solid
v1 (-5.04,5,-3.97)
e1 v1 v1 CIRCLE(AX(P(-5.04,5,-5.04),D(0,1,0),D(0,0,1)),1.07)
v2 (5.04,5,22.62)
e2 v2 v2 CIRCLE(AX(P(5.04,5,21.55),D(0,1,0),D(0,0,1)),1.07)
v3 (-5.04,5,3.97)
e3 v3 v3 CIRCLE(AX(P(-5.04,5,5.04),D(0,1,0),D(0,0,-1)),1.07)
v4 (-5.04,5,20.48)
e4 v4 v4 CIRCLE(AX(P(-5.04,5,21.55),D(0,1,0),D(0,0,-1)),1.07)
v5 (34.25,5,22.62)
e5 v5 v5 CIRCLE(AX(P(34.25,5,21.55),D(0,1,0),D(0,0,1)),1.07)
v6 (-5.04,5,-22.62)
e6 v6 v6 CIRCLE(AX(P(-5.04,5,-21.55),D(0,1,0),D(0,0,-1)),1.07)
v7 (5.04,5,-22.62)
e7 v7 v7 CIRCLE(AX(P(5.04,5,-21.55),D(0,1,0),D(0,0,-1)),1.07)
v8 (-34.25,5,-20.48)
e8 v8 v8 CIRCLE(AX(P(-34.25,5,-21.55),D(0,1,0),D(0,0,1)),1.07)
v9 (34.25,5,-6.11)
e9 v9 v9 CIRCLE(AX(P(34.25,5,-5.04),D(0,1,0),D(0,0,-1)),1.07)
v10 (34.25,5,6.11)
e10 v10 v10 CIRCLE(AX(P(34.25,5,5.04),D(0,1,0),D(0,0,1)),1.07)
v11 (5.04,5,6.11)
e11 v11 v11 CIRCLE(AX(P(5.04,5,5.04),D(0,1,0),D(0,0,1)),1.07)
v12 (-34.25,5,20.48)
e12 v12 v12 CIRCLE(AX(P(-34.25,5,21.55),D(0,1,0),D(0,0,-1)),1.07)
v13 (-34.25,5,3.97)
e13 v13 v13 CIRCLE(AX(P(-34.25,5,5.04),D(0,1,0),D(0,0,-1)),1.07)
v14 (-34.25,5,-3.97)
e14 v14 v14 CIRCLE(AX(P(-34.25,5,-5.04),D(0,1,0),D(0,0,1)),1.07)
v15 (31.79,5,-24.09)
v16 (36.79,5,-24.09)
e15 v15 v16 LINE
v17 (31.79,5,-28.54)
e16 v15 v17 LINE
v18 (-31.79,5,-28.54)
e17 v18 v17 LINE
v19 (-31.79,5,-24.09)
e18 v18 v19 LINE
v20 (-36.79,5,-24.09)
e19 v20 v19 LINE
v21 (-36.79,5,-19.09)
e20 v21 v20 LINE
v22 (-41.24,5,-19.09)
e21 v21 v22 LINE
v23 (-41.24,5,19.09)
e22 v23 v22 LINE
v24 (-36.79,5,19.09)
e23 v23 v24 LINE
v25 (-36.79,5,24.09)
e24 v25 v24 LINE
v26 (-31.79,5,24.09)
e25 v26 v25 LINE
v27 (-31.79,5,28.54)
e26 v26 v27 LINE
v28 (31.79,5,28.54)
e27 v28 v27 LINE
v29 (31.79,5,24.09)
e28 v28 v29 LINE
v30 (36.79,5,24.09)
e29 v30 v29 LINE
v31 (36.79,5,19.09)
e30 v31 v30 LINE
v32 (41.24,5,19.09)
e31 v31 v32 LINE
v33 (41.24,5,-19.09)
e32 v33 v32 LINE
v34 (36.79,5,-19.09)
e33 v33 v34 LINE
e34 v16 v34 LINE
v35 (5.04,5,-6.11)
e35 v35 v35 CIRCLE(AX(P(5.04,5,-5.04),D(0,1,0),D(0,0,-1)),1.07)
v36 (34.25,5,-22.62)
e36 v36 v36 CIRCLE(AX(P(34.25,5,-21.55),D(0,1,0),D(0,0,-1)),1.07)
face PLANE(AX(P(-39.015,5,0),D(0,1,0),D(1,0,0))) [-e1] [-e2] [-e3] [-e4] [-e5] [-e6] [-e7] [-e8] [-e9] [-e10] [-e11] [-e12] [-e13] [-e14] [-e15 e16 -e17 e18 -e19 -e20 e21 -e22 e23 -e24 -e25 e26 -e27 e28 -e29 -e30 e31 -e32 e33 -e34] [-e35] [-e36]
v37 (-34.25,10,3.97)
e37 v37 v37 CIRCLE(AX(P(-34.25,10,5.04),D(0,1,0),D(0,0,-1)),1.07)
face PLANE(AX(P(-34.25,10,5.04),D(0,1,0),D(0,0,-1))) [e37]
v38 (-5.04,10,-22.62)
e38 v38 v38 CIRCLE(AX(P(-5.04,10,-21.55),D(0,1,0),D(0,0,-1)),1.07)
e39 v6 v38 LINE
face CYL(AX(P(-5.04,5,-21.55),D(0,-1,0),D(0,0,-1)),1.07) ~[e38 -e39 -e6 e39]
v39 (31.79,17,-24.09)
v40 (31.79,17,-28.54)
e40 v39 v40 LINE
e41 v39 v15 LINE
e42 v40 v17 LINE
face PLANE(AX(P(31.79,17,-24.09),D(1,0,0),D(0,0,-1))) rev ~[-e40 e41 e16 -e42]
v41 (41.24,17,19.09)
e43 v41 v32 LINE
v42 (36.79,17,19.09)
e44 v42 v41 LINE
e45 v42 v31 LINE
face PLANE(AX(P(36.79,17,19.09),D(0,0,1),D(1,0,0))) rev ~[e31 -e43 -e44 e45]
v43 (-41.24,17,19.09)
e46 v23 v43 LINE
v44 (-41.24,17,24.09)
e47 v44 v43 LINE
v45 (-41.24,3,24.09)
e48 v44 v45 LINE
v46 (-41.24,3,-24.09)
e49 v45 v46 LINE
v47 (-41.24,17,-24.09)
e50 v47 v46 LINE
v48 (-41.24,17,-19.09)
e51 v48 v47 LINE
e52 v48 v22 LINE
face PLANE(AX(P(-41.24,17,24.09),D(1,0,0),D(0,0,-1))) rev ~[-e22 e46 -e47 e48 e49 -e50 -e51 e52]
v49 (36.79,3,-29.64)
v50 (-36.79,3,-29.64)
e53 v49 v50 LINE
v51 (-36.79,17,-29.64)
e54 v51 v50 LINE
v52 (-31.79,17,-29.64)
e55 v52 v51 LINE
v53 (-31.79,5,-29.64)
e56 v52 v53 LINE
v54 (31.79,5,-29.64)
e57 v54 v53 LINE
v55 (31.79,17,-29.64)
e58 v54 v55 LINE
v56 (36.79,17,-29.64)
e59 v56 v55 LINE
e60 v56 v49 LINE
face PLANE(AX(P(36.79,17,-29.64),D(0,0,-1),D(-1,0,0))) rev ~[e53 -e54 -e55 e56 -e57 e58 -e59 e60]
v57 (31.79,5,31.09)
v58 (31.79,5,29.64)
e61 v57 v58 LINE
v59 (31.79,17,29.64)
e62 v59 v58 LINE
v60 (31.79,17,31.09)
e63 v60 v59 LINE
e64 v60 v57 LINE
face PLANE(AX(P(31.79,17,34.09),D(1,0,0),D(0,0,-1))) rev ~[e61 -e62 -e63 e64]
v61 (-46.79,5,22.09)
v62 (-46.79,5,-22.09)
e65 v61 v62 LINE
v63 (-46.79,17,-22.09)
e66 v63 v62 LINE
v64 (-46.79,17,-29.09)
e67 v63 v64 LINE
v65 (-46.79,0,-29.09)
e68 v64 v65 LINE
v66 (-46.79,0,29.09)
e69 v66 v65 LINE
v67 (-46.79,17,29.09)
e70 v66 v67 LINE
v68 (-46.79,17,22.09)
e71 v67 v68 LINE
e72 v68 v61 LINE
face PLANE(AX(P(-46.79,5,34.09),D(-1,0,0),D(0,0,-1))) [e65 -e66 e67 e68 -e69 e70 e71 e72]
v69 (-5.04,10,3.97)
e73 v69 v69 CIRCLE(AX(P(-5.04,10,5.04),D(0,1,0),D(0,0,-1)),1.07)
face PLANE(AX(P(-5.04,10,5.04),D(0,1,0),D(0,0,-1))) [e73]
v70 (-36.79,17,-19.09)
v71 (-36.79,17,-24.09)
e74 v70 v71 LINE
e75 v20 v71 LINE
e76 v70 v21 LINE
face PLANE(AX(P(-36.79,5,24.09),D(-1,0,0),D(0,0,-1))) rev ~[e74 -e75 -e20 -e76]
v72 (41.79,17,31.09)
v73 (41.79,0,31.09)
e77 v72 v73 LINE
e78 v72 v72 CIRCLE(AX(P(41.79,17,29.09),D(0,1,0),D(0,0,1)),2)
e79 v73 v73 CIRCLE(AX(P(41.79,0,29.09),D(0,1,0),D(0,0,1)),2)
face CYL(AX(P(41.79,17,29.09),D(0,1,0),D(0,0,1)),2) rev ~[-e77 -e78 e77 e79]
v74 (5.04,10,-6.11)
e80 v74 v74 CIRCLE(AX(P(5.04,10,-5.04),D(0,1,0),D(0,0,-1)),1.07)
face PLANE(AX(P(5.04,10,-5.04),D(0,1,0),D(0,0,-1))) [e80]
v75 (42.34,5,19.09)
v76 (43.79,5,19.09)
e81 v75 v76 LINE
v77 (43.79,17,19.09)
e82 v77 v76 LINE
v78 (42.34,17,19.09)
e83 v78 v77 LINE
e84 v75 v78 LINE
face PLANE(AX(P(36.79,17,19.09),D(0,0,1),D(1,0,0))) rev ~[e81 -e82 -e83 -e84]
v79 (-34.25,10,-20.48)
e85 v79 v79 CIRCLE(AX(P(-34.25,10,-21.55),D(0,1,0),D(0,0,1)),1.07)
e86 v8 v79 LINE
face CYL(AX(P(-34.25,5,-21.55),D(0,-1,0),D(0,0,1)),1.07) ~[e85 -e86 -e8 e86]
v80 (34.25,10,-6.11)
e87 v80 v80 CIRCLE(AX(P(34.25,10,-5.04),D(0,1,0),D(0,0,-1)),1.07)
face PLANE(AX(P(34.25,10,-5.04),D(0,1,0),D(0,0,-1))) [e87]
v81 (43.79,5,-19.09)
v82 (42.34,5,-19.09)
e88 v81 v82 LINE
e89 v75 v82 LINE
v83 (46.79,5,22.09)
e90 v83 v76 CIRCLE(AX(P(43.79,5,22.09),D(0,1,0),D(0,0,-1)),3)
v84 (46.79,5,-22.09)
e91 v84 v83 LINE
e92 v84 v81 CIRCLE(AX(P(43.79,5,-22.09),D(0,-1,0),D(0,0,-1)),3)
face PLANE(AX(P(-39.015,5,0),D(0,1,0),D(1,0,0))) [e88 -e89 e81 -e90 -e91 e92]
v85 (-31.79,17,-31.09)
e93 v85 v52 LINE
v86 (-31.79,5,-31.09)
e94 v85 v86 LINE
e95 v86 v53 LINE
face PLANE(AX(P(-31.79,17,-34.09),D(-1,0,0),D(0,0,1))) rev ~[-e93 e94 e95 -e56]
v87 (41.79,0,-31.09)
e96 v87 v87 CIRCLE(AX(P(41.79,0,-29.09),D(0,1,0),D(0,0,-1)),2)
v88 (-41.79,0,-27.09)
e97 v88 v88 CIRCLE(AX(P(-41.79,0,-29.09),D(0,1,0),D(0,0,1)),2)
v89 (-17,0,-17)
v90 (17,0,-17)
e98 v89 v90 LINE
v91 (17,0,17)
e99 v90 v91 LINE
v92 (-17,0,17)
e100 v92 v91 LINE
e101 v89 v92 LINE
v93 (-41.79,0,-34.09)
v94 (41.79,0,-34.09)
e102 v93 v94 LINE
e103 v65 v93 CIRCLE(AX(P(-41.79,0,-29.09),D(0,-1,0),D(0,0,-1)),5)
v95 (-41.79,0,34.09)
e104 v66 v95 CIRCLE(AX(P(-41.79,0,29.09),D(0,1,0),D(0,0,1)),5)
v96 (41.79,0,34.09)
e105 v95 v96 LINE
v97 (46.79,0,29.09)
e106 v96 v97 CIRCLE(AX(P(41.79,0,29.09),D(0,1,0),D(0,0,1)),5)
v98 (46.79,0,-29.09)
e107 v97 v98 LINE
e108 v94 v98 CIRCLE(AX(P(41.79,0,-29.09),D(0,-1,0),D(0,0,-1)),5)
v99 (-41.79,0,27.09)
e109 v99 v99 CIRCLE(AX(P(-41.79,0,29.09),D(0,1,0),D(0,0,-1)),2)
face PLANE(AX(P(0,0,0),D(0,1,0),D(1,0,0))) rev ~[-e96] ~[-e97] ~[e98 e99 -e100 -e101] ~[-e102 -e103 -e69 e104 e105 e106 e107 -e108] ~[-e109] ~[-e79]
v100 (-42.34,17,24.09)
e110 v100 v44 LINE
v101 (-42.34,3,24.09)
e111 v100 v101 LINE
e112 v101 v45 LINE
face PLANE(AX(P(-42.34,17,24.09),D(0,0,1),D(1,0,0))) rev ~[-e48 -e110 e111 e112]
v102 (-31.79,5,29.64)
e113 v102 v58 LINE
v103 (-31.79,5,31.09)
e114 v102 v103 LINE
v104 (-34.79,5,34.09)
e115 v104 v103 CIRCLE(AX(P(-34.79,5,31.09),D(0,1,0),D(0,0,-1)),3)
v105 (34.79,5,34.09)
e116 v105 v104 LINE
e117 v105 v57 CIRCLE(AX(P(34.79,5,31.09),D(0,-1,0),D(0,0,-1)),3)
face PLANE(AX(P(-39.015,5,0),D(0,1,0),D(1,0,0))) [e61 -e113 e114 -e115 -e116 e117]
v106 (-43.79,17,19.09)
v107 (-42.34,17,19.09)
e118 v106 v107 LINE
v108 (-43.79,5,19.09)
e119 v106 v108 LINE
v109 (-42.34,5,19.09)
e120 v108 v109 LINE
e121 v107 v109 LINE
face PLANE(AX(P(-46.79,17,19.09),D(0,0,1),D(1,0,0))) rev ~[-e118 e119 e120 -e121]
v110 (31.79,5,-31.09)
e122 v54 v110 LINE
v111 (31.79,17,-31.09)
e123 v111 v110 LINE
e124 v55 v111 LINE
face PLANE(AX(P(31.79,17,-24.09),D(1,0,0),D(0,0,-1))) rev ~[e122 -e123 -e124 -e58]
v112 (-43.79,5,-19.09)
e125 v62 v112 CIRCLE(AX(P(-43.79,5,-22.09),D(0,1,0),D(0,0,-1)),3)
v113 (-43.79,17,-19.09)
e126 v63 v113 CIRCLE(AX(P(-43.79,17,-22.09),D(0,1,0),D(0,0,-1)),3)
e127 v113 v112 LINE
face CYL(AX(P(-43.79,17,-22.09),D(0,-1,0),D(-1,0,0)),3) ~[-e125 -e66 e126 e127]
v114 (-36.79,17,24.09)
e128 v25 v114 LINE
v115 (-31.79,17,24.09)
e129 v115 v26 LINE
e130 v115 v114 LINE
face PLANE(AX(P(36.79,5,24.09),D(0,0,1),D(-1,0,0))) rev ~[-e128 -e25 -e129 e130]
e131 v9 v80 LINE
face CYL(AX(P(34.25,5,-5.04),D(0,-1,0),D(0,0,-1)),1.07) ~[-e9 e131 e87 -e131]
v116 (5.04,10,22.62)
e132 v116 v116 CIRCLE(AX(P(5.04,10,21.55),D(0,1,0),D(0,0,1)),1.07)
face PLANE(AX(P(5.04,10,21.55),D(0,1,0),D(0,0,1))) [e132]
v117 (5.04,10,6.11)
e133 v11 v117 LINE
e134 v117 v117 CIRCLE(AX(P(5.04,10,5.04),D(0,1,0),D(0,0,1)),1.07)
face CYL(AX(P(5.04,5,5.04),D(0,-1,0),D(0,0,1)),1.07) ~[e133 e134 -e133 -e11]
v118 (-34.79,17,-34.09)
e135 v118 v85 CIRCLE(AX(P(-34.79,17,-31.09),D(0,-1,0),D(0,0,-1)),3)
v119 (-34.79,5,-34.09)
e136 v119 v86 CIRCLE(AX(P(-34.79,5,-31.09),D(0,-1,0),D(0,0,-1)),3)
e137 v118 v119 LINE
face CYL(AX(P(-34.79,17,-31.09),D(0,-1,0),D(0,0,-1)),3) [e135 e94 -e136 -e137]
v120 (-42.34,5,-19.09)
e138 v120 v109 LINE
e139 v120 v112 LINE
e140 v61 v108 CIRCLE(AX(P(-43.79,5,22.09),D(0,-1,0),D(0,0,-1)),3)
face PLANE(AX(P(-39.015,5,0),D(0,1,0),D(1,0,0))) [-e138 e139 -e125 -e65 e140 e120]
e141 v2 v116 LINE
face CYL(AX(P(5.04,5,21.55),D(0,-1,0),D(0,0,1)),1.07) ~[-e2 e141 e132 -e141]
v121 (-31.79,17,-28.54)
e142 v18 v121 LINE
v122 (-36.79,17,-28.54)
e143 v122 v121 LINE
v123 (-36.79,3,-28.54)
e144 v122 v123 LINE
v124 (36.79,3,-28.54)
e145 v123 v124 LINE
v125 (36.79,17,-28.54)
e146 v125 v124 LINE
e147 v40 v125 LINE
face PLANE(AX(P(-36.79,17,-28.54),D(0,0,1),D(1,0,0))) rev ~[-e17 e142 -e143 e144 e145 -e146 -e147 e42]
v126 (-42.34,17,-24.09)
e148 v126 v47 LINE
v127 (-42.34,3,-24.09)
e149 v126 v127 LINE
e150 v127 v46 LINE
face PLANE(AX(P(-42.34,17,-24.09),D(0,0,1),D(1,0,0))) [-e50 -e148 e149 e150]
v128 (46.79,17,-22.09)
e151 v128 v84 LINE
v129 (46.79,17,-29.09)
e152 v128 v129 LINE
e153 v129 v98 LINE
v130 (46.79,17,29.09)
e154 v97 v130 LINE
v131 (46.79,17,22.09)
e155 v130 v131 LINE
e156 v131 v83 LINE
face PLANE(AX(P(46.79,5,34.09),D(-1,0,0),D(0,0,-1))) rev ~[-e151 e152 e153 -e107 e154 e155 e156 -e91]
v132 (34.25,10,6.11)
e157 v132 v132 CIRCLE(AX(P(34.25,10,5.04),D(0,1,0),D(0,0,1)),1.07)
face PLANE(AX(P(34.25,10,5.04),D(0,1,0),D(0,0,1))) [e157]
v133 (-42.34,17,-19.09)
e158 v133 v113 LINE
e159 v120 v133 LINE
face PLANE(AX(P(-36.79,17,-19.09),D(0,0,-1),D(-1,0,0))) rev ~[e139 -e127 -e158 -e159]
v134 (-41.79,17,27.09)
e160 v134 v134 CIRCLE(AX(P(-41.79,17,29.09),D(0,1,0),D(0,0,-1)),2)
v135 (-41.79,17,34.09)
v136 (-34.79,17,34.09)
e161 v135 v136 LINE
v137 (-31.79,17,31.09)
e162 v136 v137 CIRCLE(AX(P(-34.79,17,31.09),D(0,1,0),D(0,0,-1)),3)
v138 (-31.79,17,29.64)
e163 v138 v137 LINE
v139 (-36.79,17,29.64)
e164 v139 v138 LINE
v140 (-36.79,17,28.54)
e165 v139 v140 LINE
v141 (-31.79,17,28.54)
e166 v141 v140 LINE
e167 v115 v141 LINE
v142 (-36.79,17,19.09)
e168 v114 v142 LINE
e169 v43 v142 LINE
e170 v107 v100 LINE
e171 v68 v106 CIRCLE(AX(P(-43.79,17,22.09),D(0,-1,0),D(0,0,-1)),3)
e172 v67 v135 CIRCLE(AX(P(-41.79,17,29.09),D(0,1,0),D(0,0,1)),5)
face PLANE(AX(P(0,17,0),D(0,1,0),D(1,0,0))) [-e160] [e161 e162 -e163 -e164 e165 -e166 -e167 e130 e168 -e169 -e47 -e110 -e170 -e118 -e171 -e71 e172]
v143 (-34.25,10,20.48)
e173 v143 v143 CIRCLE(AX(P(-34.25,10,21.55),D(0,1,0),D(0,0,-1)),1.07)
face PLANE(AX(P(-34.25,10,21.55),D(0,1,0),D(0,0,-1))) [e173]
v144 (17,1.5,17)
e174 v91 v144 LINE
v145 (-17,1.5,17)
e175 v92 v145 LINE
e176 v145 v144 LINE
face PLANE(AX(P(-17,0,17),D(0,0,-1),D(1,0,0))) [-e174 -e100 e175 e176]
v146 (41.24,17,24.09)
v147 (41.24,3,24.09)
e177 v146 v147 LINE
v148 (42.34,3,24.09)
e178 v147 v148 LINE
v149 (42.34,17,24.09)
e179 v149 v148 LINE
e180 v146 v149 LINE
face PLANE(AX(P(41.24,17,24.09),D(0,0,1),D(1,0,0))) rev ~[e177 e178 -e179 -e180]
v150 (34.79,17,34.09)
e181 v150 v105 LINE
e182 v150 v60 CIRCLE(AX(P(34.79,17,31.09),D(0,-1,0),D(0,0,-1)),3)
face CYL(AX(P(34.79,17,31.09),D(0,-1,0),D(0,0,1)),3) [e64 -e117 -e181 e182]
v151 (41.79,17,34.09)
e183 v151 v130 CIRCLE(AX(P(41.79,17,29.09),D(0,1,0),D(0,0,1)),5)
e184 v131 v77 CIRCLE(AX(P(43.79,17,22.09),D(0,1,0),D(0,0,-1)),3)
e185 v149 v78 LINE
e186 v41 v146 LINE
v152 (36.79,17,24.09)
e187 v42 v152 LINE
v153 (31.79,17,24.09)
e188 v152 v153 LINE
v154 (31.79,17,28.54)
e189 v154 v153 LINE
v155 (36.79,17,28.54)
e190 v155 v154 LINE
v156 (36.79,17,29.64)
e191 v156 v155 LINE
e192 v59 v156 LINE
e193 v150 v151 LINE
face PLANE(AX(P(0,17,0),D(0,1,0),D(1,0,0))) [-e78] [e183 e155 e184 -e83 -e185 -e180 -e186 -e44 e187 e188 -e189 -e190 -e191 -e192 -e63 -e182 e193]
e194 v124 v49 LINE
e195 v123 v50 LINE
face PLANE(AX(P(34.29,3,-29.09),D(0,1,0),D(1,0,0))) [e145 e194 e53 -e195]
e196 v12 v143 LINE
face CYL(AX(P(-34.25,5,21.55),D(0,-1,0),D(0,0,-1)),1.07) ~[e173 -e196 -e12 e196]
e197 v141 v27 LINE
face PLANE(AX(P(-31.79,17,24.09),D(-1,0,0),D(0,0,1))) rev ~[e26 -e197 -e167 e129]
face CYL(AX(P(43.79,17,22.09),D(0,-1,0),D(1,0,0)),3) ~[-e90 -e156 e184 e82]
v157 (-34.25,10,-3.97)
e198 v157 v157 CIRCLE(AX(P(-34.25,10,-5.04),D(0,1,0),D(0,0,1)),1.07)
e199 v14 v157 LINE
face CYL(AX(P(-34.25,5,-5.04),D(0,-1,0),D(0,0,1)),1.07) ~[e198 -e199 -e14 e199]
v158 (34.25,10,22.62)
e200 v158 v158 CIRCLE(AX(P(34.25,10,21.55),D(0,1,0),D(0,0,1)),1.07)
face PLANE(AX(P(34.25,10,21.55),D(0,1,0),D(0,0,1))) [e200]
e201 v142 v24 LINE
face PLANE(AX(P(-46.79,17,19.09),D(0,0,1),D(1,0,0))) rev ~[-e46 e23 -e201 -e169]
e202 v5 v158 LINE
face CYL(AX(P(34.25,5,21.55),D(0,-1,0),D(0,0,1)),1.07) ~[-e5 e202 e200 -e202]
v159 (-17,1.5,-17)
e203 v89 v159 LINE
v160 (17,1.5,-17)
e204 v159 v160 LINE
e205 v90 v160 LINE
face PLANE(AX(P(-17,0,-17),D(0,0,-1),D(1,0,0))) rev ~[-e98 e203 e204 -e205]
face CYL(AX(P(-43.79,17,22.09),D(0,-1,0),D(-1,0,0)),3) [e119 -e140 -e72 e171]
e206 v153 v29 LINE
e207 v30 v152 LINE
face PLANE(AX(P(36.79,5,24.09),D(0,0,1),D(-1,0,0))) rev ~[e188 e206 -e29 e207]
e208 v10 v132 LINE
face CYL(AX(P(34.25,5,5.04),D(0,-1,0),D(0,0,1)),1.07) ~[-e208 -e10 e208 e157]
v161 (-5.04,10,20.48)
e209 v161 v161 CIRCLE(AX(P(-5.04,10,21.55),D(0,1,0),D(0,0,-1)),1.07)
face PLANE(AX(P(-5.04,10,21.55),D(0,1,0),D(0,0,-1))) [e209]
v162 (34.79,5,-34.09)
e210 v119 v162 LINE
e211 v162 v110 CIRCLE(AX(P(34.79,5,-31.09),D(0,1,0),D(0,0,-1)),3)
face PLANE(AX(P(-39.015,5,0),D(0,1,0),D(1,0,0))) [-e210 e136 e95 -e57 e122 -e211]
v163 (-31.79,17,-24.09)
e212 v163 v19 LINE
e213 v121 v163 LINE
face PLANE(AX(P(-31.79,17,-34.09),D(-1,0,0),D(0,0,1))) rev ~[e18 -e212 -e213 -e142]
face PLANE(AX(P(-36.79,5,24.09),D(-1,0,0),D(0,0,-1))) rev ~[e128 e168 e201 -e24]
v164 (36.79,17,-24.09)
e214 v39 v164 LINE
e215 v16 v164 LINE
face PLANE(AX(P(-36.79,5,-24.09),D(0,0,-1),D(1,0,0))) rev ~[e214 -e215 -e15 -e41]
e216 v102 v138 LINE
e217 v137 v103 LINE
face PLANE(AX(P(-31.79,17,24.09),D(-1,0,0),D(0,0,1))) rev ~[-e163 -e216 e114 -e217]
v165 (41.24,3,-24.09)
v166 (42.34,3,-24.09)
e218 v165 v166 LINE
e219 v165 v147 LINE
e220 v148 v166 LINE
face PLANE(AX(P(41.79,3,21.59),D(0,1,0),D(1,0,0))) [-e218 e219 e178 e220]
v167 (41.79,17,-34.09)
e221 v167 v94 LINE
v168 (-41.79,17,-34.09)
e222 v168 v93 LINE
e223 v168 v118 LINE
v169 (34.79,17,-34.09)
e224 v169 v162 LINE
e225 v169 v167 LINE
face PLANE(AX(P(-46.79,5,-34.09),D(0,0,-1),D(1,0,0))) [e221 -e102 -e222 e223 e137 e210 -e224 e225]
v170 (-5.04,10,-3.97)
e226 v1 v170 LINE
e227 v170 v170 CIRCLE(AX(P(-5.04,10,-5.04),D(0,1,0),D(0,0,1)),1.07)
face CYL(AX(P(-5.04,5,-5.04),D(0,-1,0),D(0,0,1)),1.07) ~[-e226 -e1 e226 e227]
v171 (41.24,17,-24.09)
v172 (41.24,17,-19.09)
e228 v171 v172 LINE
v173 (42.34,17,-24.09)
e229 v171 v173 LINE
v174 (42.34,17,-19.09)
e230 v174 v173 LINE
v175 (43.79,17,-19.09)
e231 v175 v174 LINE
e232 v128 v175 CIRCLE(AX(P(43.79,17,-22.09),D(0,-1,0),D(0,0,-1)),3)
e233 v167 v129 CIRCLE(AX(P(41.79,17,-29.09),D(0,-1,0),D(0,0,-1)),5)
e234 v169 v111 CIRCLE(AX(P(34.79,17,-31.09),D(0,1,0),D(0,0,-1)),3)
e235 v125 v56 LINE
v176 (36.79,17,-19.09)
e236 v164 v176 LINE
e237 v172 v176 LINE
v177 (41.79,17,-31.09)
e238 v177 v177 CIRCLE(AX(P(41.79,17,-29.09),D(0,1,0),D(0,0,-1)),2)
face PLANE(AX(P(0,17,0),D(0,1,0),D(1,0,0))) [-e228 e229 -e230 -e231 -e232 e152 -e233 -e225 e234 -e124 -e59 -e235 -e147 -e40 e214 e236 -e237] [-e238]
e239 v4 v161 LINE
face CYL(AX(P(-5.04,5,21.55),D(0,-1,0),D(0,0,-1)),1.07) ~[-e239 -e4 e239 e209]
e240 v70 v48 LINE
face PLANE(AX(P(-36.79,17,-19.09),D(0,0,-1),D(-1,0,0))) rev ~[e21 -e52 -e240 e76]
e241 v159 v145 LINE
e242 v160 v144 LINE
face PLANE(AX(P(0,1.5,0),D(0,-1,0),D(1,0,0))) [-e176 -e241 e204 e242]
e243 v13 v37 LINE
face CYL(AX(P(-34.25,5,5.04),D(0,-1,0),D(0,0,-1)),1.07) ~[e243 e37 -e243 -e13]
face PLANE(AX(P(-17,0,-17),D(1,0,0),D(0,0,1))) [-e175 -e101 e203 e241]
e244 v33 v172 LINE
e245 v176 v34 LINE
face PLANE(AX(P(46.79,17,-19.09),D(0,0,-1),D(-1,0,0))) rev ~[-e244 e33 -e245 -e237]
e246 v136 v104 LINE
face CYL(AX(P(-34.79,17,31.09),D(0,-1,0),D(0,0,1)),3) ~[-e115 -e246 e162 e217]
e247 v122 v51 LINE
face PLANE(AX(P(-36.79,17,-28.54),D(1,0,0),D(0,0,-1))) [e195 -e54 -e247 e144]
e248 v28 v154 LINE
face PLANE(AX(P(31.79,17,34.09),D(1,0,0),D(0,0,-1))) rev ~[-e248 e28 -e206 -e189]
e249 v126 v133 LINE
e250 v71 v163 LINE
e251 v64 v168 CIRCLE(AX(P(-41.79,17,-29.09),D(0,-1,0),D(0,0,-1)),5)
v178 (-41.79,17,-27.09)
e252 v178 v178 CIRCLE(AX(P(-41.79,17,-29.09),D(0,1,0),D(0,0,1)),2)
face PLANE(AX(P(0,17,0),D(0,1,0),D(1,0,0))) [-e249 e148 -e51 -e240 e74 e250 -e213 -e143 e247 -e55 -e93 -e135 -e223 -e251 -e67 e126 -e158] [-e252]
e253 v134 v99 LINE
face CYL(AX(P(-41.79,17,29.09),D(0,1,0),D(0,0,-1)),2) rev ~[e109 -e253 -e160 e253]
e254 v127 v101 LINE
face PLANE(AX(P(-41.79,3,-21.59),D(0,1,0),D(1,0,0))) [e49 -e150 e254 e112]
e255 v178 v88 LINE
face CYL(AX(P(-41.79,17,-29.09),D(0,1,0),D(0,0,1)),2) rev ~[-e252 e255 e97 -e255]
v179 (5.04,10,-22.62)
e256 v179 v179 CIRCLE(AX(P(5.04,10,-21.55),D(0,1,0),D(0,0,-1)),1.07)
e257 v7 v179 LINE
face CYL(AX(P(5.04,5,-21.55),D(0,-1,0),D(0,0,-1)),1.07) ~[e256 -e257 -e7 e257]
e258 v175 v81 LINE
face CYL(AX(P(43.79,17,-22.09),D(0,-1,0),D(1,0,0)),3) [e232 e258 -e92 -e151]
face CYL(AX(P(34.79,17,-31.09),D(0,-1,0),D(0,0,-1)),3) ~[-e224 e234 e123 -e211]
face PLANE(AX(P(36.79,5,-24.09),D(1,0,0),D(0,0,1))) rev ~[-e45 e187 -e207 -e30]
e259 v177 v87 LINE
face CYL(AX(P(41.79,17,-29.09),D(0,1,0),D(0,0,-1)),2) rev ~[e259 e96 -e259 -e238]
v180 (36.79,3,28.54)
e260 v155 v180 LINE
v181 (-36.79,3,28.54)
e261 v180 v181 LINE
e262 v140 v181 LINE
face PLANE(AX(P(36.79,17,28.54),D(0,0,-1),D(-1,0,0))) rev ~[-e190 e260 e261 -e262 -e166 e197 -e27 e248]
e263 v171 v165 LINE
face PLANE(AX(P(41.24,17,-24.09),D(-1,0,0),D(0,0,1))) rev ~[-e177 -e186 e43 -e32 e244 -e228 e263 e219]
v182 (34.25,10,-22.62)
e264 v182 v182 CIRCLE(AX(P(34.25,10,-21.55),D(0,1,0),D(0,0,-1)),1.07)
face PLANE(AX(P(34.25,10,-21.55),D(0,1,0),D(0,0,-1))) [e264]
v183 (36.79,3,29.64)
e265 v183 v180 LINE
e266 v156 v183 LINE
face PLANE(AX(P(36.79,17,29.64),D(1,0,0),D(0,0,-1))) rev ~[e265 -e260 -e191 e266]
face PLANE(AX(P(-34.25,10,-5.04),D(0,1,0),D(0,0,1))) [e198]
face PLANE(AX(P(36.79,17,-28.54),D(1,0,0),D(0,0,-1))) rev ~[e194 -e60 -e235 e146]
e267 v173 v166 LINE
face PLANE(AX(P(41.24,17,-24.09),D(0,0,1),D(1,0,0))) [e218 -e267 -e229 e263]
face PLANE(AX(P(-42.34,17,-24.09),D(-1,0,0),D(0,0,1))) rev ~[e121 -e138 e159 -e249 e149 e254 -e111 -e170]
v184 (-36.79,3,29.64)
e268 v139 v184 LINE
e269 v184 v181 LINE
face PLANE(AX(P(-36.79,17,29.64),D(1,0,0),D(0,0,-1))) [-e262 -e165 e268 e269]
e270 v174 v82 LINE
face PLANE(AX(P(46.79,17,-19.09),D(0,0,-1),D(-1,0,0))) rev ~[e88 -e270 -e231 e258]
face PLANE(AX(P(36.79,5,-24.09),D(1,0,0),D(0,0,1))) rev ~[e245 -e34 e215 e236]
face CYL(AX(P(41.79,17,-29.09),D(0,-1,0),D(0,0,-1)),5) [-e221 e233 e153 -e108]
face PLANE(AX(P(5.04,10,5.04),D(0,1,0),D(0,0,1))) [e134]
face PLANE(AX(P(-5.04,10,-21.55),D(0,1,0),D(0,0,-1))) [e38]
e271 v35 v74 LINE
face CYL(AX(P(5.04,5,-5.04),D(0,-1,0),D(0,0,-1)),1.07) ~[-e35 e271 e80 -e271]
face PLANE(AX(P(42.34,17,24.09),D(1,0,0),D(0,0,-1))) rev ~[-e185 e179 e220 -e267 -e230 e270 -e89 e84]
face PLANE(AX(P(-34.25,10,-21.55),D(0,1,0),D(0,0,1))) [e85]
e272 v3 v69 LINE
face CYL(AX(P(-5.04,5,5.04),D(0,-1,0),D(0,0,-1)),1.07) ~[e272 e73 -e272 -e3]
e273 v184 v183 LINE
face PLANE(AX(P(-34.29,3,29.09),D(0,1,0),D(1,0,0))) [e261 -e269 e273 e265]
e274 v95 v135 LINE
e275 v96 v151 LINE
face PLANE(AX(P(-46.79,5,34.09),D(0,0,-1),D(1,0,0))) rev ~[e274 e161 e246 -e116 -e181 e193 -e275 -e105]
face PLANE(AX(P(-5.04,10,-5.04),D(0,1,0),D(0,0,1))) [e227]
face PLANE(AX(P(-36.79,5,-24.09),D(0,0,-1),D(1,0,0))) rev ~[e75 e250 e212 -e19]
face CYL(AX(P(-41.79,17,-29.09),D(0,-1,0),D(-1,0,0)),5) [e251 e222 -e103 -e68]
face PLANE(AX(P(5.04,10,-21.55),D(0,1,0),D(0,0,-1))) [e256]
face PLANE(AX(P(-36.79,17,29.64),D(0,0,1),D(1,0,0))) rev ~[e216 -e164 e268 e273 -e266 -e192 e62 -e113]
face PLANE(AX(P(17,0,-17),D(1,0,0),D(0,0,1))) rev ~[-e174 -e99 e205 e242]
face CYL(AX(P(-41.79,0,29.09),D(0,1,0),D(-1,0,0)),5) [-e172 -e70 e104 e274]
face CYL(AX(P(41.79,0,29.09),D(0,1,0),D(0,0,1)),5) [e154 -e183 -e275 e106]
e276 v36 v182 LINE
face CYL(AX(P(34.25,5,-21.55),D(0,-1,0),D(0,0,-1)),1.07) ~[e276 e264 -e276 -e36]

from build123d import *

# Parameters (mm, degrees)
SKETCH1_W                 = 93.58
SKETCH1_H                 = 68.18
BASE_DEPTH                = 5
SKETCH2_W                 = 93.58
SKETCH2_H                 = 68.18
WALLS_DEPTH               = 12
SKETCH2_4_R               = 1.07
SCREW_HOLES_DEPTH         = 5
SKETCH4_W                 = 4.45
SKETCH4_H                 = 38.18
SKETCH4_W_2               = 1.1
SKETCH4_W_3               = 63.58
SKETCH4_H_2               = 4.45
SKETCH4_H_3               = 1.1
WALLS_CUT_DEPTH           = 12
SKETCH4_3_W               = 5
SKETCH4_3_H               = 1.1
SKETCH4_3_W_2             = 1.1
SKETCH4_3_H_2             = 5
SKETCH4_3_W_3             = 63.58
SKETCH4_3_H_3             = 38.18
ACRYLIC_CUT_DEPTH         = 14
FILLET2_R                 = 5
FILLET3_R                 = 3
SKETCH5_W                 = 34
SKETCH5_H                 = 34
ARM_ATTACH_BODY_CUT_DEPTH = 1.5
SKETCH6_R                 = 2
CUT_EXTRUDE1_DEPTH        = 61.335994232


with BuildPart() as part:
    # Sketch1 → Base (new body)
    with BuildSketch(Plane(origin=(0, 0, 0), x_dir=(1, 0, 0), z_dir=(0, 1, 0))):
        Rectangle(SKETCH1_W, SKETCH1_H)
    extrude(amount=BASE_DEPTH)

    # Sketch2 → Walls (add)
    with BuildSketch(Plane(origin=(0, 5, 0), x_dir=(1, 0, 0), z_dir=(0, 1, 0))):
        Rectangle(SKETCH2_W, SKETCH2_H)
        Polygon((36.79, -2), (36.79, -24.09), (2, -24.09), (-2, -24.09), (-36.79, -24.09), (-36.79, -2), (-36.79, 2), (-36.79, 24.09), (-2, 24.09), (2, 24.09), (36.79, 24.09), (36.79, 2), align=None, mode=Mode.SUBTRACT)
    extrude(amount=WALLS_DEPTH)

    # Sketch2<4> → Screw Holes (add)
    with BuildSketch(Plane(origin=(0, 5, 0), x_dir=(1, 0, 0), z_dir=(0, 1, 0))):
        with Locations(Location((-5.04, 5.04, 0), (0, 0, 270))):
            Circle(SKETCH2_4_R)
        with Locations(Location((-34.25, 5.04, 0), (0, 0, 270))):
            Circle(SKETCH2_4_R)
        with Locations(Location((-34.25, 21.55, 0), (0, 0, 270))):
            Circle(SKETCH2_4_R)
        with Locations(Location((5.04, 21.55, 0), (0, 0, 90))):
            Circle(SKETCH2_4_R)
        with Locations(Location((5.04, 5.04, 0), (0, 0, 90))):
            Circle(SKETCH2_4_R)
        with Locations(Location((34.25, 5.04, 0), (0, 0, 90))):
            Circle(SKETCH2_4_R)
        with Locations(Location((34.25, 21.55, 0), (0, 0, 90))):
            Circle(SKETCH2_4_R)
        with Locations(Location((34.25, -5.04, 0), (0, 0, 270))):
            Circle(SKETCH2_4_R)
        with Locations(Location((34.25, -21.55, 0), (0, 0, 270))):
            Circle(SKETCH2_4_R)
        with Locations(Location((5.04, -21.55, 0), (0, 0, 270))):
            Circle(SKETCH2_4_R)
        with Locations(Location((5.04, -5.04, 0), (0, 0, 270))):
            Circle(SKETCH2_4_R)
        with Locations(Location((-5.04, -5.04, 0), (0, 0, 90))):
            Circle(SKETCH2_4_R)
        with Locations(Location((-34.25, -5.04, 0), (0, 0, 90))):
            Circle(SKETCH2_4_R)
        with Locations(Location((-34.25, -21.55, 0), (0, 0, 90))):
            Circle(SKETCH2_4_R)
        with Locations(Location((-5.04, -21.55, 0), (0, 0, 90))):
            Circle(SKETCH2_4_R)
        with Locations(Location((-5.04, 21.55, 0), (0, 0, 90))):
            Circle(SKETCH2_4_R)
    extrude(amount=SCREW_HOLES_DEPTH)

    # Sketch4 → Walls Cut (cut)
    with BuildSketch(Plane(origin=(0, 17, 0), x_dir=(1, 0, 0), z_dir=(0, 1, 0))):
        with Locations((39.015, 0)):
            Rectangle(SKETCH4_W, SKETCH4_H)
        with Locations((44.565, 0)):
            Rectangle(SKETCH4_W, SKETCH4_H)
        with Locations((41.79, 0)):
            Rectangle(SKETCH4_W_2, SKETCH4_H)
        with Locations((0, -26.315)):
            Rectangle(SKETCH4_W_3, SKETCH4_H_2)
        with Locations((0, -31.865)):
            Rectangle(SKETCH4_W_3, SKETCH4_H_2)
        with Locations((0, -29.09)):
            Rectangle(SKETCH4_W_3, SKETCH4_H_3)
        with Locations((0, 26.315)):
            Rectangle(SKETCH4_W_3, SKETCH4_H_2)
        with Locations((0, 29.09)):
            Rectangle(SKETCH4_W_3, SKETCH4_H_3)
        with Locations((0, 31.865)):
            Rectangle(SKETCH4_W_3, SKETCH4_H_2)
        with Locations((-39.015, 0)):
            Rectangle(SKETCH4_W, SKETCH4_H)
        with Locations((-44.565, 0)):
            Rectangle(SKETCH4_W, SKETCH4_H)
        with Locations((-41.79, 0)):
            Rectangle(SKETCH4_W_2, SKETCH4_H)
    extrude(amount=-WALLS_CUT_DEPTH, mode=Mode.SUBTRACT)

    # Sketch4<3> → Acrylic Cut (cut)
    with BuildSketch(Plane(origin=(0, 17, 0), x_dir=(1, 0, 0), z_dir=(0, 1, 0))):
        with Locations((34.29, 29.09)):
            Rectangle(SKETCH4_3_W, SKETCH4_3_H)
        with Locations((-34.29, 29.09)):
            Rectangle(SKETCH4_3_W, SKETCH4_3_H)
        with Locations((-41.79, 21.59)):
            Rectangle(SKETCH4_3_W_2, SKETCH4_3_H_2)
        with Locations((-41.79, -21.59)):
            Rectangle(SKETCH4_3_W_2, SKETCH4_3_H_2)
        with Locations((-34.29, -29.09)):
            Rectangle(SKETCH4_3_W, SKETCH4_3_H)
        with Locations((41.79, -21.59)):
            Rectangle(SKETCH4_3_W_2, SKETCH4_3_H_2)
        with Locations((34.29, -29.09)):
            Rectangle(SKETCH4_3_W, SKETCH4_3_H)
        with Locations((41.79, 21.59)):
            Rectangle(SKETCH4_3_W_2, SKETCH4_3_H_2)
        with Locations((0, -29.09)):
            Rectangle(SKETCH4_3_W_3, SKETCH4_3_H)
        with Locations((-41.79, 0)):
            Rectangle(SKETCH4_3_W_2, SKETCH4_3_H_3)
        with Locations((0, 29.09)):
            Rectangle(SKETCH4_3_W_3, SKETCH4_3_H)
        with Locations((41.79, 0)):
            Rectangle(SKETCH4_3_W_2, SKETCH4_3_H_3)
    extrude(amount=-ACRYLIC_CUT_DEPTH, mode=Mode.SUBTRACT)

    # Fillet2
    fillet2_edges = [part.edges().sort_by_distance(p)[0] for p in [
        (-46.79, 8.5, 34.09),
        (46.79, 8.5, 34.09),
        (46.79, 8.5, -34.09),
        (-46.79, 8.5, -34.09),
    ]]
    fillet(fillet2_edges, radius=FILLET2_R)

    # Fillet3
    fillet3_edges = [part.edges().sort_by_distance(p)[0] for p in [
        (46.79, 11, -19.09),
        (46.79, 11, 19.09),
        (31.79, 11, 34.09),
        (-31.79, 11, 34.09),
        (-31.79, 11, -34.09),
        (31.79, 11, -34.09),
        (-46.79, 11, 19.09),
        (-46.79, 11, -19.09),
    ]]
    fillet(fillet3_edges, radius=FILLET3_R)

    # Sketch5 → Arm Attach Body Cut (cut)
    with BuildSketch(Plane.XZ):
        Rectangle(SKETCH5_W, SKETCH5_H)
    extrude(amount=-ARM_ATTACH_BODY_CUT_DEPTH, mode=Mode.SUBTRACT)

    # Sketch6 → Cut-Extrude1 (cut, through all)
    with BuildSketch(Plane(origin=(0, 17, 0), x_dir=(1, 0, 0), z_dir=(0, 1, 0))):
        with Locations(Location((-41.79, 29.09, 0), (0, 0, 270))):
            Circle(SKETCH6_R)
        with Locations(Location((41.79, 29.09, 0), (0, 0, 90))):
            Circle(SKETCH6_R)
        with Locations(Location((41.79, -29.09, 0), (0, 0, 270))):
            Circle(SKETCH6_R)
        with Locations(Location((-41.79, -29.09, 0), (0, 0, 90))):
            Circle(SKETCH6_R)
    extrude(amount=-CUT_EXTRUDE1_DEPTH, mode=Mode.SUBTRACT)


solid = part.part
